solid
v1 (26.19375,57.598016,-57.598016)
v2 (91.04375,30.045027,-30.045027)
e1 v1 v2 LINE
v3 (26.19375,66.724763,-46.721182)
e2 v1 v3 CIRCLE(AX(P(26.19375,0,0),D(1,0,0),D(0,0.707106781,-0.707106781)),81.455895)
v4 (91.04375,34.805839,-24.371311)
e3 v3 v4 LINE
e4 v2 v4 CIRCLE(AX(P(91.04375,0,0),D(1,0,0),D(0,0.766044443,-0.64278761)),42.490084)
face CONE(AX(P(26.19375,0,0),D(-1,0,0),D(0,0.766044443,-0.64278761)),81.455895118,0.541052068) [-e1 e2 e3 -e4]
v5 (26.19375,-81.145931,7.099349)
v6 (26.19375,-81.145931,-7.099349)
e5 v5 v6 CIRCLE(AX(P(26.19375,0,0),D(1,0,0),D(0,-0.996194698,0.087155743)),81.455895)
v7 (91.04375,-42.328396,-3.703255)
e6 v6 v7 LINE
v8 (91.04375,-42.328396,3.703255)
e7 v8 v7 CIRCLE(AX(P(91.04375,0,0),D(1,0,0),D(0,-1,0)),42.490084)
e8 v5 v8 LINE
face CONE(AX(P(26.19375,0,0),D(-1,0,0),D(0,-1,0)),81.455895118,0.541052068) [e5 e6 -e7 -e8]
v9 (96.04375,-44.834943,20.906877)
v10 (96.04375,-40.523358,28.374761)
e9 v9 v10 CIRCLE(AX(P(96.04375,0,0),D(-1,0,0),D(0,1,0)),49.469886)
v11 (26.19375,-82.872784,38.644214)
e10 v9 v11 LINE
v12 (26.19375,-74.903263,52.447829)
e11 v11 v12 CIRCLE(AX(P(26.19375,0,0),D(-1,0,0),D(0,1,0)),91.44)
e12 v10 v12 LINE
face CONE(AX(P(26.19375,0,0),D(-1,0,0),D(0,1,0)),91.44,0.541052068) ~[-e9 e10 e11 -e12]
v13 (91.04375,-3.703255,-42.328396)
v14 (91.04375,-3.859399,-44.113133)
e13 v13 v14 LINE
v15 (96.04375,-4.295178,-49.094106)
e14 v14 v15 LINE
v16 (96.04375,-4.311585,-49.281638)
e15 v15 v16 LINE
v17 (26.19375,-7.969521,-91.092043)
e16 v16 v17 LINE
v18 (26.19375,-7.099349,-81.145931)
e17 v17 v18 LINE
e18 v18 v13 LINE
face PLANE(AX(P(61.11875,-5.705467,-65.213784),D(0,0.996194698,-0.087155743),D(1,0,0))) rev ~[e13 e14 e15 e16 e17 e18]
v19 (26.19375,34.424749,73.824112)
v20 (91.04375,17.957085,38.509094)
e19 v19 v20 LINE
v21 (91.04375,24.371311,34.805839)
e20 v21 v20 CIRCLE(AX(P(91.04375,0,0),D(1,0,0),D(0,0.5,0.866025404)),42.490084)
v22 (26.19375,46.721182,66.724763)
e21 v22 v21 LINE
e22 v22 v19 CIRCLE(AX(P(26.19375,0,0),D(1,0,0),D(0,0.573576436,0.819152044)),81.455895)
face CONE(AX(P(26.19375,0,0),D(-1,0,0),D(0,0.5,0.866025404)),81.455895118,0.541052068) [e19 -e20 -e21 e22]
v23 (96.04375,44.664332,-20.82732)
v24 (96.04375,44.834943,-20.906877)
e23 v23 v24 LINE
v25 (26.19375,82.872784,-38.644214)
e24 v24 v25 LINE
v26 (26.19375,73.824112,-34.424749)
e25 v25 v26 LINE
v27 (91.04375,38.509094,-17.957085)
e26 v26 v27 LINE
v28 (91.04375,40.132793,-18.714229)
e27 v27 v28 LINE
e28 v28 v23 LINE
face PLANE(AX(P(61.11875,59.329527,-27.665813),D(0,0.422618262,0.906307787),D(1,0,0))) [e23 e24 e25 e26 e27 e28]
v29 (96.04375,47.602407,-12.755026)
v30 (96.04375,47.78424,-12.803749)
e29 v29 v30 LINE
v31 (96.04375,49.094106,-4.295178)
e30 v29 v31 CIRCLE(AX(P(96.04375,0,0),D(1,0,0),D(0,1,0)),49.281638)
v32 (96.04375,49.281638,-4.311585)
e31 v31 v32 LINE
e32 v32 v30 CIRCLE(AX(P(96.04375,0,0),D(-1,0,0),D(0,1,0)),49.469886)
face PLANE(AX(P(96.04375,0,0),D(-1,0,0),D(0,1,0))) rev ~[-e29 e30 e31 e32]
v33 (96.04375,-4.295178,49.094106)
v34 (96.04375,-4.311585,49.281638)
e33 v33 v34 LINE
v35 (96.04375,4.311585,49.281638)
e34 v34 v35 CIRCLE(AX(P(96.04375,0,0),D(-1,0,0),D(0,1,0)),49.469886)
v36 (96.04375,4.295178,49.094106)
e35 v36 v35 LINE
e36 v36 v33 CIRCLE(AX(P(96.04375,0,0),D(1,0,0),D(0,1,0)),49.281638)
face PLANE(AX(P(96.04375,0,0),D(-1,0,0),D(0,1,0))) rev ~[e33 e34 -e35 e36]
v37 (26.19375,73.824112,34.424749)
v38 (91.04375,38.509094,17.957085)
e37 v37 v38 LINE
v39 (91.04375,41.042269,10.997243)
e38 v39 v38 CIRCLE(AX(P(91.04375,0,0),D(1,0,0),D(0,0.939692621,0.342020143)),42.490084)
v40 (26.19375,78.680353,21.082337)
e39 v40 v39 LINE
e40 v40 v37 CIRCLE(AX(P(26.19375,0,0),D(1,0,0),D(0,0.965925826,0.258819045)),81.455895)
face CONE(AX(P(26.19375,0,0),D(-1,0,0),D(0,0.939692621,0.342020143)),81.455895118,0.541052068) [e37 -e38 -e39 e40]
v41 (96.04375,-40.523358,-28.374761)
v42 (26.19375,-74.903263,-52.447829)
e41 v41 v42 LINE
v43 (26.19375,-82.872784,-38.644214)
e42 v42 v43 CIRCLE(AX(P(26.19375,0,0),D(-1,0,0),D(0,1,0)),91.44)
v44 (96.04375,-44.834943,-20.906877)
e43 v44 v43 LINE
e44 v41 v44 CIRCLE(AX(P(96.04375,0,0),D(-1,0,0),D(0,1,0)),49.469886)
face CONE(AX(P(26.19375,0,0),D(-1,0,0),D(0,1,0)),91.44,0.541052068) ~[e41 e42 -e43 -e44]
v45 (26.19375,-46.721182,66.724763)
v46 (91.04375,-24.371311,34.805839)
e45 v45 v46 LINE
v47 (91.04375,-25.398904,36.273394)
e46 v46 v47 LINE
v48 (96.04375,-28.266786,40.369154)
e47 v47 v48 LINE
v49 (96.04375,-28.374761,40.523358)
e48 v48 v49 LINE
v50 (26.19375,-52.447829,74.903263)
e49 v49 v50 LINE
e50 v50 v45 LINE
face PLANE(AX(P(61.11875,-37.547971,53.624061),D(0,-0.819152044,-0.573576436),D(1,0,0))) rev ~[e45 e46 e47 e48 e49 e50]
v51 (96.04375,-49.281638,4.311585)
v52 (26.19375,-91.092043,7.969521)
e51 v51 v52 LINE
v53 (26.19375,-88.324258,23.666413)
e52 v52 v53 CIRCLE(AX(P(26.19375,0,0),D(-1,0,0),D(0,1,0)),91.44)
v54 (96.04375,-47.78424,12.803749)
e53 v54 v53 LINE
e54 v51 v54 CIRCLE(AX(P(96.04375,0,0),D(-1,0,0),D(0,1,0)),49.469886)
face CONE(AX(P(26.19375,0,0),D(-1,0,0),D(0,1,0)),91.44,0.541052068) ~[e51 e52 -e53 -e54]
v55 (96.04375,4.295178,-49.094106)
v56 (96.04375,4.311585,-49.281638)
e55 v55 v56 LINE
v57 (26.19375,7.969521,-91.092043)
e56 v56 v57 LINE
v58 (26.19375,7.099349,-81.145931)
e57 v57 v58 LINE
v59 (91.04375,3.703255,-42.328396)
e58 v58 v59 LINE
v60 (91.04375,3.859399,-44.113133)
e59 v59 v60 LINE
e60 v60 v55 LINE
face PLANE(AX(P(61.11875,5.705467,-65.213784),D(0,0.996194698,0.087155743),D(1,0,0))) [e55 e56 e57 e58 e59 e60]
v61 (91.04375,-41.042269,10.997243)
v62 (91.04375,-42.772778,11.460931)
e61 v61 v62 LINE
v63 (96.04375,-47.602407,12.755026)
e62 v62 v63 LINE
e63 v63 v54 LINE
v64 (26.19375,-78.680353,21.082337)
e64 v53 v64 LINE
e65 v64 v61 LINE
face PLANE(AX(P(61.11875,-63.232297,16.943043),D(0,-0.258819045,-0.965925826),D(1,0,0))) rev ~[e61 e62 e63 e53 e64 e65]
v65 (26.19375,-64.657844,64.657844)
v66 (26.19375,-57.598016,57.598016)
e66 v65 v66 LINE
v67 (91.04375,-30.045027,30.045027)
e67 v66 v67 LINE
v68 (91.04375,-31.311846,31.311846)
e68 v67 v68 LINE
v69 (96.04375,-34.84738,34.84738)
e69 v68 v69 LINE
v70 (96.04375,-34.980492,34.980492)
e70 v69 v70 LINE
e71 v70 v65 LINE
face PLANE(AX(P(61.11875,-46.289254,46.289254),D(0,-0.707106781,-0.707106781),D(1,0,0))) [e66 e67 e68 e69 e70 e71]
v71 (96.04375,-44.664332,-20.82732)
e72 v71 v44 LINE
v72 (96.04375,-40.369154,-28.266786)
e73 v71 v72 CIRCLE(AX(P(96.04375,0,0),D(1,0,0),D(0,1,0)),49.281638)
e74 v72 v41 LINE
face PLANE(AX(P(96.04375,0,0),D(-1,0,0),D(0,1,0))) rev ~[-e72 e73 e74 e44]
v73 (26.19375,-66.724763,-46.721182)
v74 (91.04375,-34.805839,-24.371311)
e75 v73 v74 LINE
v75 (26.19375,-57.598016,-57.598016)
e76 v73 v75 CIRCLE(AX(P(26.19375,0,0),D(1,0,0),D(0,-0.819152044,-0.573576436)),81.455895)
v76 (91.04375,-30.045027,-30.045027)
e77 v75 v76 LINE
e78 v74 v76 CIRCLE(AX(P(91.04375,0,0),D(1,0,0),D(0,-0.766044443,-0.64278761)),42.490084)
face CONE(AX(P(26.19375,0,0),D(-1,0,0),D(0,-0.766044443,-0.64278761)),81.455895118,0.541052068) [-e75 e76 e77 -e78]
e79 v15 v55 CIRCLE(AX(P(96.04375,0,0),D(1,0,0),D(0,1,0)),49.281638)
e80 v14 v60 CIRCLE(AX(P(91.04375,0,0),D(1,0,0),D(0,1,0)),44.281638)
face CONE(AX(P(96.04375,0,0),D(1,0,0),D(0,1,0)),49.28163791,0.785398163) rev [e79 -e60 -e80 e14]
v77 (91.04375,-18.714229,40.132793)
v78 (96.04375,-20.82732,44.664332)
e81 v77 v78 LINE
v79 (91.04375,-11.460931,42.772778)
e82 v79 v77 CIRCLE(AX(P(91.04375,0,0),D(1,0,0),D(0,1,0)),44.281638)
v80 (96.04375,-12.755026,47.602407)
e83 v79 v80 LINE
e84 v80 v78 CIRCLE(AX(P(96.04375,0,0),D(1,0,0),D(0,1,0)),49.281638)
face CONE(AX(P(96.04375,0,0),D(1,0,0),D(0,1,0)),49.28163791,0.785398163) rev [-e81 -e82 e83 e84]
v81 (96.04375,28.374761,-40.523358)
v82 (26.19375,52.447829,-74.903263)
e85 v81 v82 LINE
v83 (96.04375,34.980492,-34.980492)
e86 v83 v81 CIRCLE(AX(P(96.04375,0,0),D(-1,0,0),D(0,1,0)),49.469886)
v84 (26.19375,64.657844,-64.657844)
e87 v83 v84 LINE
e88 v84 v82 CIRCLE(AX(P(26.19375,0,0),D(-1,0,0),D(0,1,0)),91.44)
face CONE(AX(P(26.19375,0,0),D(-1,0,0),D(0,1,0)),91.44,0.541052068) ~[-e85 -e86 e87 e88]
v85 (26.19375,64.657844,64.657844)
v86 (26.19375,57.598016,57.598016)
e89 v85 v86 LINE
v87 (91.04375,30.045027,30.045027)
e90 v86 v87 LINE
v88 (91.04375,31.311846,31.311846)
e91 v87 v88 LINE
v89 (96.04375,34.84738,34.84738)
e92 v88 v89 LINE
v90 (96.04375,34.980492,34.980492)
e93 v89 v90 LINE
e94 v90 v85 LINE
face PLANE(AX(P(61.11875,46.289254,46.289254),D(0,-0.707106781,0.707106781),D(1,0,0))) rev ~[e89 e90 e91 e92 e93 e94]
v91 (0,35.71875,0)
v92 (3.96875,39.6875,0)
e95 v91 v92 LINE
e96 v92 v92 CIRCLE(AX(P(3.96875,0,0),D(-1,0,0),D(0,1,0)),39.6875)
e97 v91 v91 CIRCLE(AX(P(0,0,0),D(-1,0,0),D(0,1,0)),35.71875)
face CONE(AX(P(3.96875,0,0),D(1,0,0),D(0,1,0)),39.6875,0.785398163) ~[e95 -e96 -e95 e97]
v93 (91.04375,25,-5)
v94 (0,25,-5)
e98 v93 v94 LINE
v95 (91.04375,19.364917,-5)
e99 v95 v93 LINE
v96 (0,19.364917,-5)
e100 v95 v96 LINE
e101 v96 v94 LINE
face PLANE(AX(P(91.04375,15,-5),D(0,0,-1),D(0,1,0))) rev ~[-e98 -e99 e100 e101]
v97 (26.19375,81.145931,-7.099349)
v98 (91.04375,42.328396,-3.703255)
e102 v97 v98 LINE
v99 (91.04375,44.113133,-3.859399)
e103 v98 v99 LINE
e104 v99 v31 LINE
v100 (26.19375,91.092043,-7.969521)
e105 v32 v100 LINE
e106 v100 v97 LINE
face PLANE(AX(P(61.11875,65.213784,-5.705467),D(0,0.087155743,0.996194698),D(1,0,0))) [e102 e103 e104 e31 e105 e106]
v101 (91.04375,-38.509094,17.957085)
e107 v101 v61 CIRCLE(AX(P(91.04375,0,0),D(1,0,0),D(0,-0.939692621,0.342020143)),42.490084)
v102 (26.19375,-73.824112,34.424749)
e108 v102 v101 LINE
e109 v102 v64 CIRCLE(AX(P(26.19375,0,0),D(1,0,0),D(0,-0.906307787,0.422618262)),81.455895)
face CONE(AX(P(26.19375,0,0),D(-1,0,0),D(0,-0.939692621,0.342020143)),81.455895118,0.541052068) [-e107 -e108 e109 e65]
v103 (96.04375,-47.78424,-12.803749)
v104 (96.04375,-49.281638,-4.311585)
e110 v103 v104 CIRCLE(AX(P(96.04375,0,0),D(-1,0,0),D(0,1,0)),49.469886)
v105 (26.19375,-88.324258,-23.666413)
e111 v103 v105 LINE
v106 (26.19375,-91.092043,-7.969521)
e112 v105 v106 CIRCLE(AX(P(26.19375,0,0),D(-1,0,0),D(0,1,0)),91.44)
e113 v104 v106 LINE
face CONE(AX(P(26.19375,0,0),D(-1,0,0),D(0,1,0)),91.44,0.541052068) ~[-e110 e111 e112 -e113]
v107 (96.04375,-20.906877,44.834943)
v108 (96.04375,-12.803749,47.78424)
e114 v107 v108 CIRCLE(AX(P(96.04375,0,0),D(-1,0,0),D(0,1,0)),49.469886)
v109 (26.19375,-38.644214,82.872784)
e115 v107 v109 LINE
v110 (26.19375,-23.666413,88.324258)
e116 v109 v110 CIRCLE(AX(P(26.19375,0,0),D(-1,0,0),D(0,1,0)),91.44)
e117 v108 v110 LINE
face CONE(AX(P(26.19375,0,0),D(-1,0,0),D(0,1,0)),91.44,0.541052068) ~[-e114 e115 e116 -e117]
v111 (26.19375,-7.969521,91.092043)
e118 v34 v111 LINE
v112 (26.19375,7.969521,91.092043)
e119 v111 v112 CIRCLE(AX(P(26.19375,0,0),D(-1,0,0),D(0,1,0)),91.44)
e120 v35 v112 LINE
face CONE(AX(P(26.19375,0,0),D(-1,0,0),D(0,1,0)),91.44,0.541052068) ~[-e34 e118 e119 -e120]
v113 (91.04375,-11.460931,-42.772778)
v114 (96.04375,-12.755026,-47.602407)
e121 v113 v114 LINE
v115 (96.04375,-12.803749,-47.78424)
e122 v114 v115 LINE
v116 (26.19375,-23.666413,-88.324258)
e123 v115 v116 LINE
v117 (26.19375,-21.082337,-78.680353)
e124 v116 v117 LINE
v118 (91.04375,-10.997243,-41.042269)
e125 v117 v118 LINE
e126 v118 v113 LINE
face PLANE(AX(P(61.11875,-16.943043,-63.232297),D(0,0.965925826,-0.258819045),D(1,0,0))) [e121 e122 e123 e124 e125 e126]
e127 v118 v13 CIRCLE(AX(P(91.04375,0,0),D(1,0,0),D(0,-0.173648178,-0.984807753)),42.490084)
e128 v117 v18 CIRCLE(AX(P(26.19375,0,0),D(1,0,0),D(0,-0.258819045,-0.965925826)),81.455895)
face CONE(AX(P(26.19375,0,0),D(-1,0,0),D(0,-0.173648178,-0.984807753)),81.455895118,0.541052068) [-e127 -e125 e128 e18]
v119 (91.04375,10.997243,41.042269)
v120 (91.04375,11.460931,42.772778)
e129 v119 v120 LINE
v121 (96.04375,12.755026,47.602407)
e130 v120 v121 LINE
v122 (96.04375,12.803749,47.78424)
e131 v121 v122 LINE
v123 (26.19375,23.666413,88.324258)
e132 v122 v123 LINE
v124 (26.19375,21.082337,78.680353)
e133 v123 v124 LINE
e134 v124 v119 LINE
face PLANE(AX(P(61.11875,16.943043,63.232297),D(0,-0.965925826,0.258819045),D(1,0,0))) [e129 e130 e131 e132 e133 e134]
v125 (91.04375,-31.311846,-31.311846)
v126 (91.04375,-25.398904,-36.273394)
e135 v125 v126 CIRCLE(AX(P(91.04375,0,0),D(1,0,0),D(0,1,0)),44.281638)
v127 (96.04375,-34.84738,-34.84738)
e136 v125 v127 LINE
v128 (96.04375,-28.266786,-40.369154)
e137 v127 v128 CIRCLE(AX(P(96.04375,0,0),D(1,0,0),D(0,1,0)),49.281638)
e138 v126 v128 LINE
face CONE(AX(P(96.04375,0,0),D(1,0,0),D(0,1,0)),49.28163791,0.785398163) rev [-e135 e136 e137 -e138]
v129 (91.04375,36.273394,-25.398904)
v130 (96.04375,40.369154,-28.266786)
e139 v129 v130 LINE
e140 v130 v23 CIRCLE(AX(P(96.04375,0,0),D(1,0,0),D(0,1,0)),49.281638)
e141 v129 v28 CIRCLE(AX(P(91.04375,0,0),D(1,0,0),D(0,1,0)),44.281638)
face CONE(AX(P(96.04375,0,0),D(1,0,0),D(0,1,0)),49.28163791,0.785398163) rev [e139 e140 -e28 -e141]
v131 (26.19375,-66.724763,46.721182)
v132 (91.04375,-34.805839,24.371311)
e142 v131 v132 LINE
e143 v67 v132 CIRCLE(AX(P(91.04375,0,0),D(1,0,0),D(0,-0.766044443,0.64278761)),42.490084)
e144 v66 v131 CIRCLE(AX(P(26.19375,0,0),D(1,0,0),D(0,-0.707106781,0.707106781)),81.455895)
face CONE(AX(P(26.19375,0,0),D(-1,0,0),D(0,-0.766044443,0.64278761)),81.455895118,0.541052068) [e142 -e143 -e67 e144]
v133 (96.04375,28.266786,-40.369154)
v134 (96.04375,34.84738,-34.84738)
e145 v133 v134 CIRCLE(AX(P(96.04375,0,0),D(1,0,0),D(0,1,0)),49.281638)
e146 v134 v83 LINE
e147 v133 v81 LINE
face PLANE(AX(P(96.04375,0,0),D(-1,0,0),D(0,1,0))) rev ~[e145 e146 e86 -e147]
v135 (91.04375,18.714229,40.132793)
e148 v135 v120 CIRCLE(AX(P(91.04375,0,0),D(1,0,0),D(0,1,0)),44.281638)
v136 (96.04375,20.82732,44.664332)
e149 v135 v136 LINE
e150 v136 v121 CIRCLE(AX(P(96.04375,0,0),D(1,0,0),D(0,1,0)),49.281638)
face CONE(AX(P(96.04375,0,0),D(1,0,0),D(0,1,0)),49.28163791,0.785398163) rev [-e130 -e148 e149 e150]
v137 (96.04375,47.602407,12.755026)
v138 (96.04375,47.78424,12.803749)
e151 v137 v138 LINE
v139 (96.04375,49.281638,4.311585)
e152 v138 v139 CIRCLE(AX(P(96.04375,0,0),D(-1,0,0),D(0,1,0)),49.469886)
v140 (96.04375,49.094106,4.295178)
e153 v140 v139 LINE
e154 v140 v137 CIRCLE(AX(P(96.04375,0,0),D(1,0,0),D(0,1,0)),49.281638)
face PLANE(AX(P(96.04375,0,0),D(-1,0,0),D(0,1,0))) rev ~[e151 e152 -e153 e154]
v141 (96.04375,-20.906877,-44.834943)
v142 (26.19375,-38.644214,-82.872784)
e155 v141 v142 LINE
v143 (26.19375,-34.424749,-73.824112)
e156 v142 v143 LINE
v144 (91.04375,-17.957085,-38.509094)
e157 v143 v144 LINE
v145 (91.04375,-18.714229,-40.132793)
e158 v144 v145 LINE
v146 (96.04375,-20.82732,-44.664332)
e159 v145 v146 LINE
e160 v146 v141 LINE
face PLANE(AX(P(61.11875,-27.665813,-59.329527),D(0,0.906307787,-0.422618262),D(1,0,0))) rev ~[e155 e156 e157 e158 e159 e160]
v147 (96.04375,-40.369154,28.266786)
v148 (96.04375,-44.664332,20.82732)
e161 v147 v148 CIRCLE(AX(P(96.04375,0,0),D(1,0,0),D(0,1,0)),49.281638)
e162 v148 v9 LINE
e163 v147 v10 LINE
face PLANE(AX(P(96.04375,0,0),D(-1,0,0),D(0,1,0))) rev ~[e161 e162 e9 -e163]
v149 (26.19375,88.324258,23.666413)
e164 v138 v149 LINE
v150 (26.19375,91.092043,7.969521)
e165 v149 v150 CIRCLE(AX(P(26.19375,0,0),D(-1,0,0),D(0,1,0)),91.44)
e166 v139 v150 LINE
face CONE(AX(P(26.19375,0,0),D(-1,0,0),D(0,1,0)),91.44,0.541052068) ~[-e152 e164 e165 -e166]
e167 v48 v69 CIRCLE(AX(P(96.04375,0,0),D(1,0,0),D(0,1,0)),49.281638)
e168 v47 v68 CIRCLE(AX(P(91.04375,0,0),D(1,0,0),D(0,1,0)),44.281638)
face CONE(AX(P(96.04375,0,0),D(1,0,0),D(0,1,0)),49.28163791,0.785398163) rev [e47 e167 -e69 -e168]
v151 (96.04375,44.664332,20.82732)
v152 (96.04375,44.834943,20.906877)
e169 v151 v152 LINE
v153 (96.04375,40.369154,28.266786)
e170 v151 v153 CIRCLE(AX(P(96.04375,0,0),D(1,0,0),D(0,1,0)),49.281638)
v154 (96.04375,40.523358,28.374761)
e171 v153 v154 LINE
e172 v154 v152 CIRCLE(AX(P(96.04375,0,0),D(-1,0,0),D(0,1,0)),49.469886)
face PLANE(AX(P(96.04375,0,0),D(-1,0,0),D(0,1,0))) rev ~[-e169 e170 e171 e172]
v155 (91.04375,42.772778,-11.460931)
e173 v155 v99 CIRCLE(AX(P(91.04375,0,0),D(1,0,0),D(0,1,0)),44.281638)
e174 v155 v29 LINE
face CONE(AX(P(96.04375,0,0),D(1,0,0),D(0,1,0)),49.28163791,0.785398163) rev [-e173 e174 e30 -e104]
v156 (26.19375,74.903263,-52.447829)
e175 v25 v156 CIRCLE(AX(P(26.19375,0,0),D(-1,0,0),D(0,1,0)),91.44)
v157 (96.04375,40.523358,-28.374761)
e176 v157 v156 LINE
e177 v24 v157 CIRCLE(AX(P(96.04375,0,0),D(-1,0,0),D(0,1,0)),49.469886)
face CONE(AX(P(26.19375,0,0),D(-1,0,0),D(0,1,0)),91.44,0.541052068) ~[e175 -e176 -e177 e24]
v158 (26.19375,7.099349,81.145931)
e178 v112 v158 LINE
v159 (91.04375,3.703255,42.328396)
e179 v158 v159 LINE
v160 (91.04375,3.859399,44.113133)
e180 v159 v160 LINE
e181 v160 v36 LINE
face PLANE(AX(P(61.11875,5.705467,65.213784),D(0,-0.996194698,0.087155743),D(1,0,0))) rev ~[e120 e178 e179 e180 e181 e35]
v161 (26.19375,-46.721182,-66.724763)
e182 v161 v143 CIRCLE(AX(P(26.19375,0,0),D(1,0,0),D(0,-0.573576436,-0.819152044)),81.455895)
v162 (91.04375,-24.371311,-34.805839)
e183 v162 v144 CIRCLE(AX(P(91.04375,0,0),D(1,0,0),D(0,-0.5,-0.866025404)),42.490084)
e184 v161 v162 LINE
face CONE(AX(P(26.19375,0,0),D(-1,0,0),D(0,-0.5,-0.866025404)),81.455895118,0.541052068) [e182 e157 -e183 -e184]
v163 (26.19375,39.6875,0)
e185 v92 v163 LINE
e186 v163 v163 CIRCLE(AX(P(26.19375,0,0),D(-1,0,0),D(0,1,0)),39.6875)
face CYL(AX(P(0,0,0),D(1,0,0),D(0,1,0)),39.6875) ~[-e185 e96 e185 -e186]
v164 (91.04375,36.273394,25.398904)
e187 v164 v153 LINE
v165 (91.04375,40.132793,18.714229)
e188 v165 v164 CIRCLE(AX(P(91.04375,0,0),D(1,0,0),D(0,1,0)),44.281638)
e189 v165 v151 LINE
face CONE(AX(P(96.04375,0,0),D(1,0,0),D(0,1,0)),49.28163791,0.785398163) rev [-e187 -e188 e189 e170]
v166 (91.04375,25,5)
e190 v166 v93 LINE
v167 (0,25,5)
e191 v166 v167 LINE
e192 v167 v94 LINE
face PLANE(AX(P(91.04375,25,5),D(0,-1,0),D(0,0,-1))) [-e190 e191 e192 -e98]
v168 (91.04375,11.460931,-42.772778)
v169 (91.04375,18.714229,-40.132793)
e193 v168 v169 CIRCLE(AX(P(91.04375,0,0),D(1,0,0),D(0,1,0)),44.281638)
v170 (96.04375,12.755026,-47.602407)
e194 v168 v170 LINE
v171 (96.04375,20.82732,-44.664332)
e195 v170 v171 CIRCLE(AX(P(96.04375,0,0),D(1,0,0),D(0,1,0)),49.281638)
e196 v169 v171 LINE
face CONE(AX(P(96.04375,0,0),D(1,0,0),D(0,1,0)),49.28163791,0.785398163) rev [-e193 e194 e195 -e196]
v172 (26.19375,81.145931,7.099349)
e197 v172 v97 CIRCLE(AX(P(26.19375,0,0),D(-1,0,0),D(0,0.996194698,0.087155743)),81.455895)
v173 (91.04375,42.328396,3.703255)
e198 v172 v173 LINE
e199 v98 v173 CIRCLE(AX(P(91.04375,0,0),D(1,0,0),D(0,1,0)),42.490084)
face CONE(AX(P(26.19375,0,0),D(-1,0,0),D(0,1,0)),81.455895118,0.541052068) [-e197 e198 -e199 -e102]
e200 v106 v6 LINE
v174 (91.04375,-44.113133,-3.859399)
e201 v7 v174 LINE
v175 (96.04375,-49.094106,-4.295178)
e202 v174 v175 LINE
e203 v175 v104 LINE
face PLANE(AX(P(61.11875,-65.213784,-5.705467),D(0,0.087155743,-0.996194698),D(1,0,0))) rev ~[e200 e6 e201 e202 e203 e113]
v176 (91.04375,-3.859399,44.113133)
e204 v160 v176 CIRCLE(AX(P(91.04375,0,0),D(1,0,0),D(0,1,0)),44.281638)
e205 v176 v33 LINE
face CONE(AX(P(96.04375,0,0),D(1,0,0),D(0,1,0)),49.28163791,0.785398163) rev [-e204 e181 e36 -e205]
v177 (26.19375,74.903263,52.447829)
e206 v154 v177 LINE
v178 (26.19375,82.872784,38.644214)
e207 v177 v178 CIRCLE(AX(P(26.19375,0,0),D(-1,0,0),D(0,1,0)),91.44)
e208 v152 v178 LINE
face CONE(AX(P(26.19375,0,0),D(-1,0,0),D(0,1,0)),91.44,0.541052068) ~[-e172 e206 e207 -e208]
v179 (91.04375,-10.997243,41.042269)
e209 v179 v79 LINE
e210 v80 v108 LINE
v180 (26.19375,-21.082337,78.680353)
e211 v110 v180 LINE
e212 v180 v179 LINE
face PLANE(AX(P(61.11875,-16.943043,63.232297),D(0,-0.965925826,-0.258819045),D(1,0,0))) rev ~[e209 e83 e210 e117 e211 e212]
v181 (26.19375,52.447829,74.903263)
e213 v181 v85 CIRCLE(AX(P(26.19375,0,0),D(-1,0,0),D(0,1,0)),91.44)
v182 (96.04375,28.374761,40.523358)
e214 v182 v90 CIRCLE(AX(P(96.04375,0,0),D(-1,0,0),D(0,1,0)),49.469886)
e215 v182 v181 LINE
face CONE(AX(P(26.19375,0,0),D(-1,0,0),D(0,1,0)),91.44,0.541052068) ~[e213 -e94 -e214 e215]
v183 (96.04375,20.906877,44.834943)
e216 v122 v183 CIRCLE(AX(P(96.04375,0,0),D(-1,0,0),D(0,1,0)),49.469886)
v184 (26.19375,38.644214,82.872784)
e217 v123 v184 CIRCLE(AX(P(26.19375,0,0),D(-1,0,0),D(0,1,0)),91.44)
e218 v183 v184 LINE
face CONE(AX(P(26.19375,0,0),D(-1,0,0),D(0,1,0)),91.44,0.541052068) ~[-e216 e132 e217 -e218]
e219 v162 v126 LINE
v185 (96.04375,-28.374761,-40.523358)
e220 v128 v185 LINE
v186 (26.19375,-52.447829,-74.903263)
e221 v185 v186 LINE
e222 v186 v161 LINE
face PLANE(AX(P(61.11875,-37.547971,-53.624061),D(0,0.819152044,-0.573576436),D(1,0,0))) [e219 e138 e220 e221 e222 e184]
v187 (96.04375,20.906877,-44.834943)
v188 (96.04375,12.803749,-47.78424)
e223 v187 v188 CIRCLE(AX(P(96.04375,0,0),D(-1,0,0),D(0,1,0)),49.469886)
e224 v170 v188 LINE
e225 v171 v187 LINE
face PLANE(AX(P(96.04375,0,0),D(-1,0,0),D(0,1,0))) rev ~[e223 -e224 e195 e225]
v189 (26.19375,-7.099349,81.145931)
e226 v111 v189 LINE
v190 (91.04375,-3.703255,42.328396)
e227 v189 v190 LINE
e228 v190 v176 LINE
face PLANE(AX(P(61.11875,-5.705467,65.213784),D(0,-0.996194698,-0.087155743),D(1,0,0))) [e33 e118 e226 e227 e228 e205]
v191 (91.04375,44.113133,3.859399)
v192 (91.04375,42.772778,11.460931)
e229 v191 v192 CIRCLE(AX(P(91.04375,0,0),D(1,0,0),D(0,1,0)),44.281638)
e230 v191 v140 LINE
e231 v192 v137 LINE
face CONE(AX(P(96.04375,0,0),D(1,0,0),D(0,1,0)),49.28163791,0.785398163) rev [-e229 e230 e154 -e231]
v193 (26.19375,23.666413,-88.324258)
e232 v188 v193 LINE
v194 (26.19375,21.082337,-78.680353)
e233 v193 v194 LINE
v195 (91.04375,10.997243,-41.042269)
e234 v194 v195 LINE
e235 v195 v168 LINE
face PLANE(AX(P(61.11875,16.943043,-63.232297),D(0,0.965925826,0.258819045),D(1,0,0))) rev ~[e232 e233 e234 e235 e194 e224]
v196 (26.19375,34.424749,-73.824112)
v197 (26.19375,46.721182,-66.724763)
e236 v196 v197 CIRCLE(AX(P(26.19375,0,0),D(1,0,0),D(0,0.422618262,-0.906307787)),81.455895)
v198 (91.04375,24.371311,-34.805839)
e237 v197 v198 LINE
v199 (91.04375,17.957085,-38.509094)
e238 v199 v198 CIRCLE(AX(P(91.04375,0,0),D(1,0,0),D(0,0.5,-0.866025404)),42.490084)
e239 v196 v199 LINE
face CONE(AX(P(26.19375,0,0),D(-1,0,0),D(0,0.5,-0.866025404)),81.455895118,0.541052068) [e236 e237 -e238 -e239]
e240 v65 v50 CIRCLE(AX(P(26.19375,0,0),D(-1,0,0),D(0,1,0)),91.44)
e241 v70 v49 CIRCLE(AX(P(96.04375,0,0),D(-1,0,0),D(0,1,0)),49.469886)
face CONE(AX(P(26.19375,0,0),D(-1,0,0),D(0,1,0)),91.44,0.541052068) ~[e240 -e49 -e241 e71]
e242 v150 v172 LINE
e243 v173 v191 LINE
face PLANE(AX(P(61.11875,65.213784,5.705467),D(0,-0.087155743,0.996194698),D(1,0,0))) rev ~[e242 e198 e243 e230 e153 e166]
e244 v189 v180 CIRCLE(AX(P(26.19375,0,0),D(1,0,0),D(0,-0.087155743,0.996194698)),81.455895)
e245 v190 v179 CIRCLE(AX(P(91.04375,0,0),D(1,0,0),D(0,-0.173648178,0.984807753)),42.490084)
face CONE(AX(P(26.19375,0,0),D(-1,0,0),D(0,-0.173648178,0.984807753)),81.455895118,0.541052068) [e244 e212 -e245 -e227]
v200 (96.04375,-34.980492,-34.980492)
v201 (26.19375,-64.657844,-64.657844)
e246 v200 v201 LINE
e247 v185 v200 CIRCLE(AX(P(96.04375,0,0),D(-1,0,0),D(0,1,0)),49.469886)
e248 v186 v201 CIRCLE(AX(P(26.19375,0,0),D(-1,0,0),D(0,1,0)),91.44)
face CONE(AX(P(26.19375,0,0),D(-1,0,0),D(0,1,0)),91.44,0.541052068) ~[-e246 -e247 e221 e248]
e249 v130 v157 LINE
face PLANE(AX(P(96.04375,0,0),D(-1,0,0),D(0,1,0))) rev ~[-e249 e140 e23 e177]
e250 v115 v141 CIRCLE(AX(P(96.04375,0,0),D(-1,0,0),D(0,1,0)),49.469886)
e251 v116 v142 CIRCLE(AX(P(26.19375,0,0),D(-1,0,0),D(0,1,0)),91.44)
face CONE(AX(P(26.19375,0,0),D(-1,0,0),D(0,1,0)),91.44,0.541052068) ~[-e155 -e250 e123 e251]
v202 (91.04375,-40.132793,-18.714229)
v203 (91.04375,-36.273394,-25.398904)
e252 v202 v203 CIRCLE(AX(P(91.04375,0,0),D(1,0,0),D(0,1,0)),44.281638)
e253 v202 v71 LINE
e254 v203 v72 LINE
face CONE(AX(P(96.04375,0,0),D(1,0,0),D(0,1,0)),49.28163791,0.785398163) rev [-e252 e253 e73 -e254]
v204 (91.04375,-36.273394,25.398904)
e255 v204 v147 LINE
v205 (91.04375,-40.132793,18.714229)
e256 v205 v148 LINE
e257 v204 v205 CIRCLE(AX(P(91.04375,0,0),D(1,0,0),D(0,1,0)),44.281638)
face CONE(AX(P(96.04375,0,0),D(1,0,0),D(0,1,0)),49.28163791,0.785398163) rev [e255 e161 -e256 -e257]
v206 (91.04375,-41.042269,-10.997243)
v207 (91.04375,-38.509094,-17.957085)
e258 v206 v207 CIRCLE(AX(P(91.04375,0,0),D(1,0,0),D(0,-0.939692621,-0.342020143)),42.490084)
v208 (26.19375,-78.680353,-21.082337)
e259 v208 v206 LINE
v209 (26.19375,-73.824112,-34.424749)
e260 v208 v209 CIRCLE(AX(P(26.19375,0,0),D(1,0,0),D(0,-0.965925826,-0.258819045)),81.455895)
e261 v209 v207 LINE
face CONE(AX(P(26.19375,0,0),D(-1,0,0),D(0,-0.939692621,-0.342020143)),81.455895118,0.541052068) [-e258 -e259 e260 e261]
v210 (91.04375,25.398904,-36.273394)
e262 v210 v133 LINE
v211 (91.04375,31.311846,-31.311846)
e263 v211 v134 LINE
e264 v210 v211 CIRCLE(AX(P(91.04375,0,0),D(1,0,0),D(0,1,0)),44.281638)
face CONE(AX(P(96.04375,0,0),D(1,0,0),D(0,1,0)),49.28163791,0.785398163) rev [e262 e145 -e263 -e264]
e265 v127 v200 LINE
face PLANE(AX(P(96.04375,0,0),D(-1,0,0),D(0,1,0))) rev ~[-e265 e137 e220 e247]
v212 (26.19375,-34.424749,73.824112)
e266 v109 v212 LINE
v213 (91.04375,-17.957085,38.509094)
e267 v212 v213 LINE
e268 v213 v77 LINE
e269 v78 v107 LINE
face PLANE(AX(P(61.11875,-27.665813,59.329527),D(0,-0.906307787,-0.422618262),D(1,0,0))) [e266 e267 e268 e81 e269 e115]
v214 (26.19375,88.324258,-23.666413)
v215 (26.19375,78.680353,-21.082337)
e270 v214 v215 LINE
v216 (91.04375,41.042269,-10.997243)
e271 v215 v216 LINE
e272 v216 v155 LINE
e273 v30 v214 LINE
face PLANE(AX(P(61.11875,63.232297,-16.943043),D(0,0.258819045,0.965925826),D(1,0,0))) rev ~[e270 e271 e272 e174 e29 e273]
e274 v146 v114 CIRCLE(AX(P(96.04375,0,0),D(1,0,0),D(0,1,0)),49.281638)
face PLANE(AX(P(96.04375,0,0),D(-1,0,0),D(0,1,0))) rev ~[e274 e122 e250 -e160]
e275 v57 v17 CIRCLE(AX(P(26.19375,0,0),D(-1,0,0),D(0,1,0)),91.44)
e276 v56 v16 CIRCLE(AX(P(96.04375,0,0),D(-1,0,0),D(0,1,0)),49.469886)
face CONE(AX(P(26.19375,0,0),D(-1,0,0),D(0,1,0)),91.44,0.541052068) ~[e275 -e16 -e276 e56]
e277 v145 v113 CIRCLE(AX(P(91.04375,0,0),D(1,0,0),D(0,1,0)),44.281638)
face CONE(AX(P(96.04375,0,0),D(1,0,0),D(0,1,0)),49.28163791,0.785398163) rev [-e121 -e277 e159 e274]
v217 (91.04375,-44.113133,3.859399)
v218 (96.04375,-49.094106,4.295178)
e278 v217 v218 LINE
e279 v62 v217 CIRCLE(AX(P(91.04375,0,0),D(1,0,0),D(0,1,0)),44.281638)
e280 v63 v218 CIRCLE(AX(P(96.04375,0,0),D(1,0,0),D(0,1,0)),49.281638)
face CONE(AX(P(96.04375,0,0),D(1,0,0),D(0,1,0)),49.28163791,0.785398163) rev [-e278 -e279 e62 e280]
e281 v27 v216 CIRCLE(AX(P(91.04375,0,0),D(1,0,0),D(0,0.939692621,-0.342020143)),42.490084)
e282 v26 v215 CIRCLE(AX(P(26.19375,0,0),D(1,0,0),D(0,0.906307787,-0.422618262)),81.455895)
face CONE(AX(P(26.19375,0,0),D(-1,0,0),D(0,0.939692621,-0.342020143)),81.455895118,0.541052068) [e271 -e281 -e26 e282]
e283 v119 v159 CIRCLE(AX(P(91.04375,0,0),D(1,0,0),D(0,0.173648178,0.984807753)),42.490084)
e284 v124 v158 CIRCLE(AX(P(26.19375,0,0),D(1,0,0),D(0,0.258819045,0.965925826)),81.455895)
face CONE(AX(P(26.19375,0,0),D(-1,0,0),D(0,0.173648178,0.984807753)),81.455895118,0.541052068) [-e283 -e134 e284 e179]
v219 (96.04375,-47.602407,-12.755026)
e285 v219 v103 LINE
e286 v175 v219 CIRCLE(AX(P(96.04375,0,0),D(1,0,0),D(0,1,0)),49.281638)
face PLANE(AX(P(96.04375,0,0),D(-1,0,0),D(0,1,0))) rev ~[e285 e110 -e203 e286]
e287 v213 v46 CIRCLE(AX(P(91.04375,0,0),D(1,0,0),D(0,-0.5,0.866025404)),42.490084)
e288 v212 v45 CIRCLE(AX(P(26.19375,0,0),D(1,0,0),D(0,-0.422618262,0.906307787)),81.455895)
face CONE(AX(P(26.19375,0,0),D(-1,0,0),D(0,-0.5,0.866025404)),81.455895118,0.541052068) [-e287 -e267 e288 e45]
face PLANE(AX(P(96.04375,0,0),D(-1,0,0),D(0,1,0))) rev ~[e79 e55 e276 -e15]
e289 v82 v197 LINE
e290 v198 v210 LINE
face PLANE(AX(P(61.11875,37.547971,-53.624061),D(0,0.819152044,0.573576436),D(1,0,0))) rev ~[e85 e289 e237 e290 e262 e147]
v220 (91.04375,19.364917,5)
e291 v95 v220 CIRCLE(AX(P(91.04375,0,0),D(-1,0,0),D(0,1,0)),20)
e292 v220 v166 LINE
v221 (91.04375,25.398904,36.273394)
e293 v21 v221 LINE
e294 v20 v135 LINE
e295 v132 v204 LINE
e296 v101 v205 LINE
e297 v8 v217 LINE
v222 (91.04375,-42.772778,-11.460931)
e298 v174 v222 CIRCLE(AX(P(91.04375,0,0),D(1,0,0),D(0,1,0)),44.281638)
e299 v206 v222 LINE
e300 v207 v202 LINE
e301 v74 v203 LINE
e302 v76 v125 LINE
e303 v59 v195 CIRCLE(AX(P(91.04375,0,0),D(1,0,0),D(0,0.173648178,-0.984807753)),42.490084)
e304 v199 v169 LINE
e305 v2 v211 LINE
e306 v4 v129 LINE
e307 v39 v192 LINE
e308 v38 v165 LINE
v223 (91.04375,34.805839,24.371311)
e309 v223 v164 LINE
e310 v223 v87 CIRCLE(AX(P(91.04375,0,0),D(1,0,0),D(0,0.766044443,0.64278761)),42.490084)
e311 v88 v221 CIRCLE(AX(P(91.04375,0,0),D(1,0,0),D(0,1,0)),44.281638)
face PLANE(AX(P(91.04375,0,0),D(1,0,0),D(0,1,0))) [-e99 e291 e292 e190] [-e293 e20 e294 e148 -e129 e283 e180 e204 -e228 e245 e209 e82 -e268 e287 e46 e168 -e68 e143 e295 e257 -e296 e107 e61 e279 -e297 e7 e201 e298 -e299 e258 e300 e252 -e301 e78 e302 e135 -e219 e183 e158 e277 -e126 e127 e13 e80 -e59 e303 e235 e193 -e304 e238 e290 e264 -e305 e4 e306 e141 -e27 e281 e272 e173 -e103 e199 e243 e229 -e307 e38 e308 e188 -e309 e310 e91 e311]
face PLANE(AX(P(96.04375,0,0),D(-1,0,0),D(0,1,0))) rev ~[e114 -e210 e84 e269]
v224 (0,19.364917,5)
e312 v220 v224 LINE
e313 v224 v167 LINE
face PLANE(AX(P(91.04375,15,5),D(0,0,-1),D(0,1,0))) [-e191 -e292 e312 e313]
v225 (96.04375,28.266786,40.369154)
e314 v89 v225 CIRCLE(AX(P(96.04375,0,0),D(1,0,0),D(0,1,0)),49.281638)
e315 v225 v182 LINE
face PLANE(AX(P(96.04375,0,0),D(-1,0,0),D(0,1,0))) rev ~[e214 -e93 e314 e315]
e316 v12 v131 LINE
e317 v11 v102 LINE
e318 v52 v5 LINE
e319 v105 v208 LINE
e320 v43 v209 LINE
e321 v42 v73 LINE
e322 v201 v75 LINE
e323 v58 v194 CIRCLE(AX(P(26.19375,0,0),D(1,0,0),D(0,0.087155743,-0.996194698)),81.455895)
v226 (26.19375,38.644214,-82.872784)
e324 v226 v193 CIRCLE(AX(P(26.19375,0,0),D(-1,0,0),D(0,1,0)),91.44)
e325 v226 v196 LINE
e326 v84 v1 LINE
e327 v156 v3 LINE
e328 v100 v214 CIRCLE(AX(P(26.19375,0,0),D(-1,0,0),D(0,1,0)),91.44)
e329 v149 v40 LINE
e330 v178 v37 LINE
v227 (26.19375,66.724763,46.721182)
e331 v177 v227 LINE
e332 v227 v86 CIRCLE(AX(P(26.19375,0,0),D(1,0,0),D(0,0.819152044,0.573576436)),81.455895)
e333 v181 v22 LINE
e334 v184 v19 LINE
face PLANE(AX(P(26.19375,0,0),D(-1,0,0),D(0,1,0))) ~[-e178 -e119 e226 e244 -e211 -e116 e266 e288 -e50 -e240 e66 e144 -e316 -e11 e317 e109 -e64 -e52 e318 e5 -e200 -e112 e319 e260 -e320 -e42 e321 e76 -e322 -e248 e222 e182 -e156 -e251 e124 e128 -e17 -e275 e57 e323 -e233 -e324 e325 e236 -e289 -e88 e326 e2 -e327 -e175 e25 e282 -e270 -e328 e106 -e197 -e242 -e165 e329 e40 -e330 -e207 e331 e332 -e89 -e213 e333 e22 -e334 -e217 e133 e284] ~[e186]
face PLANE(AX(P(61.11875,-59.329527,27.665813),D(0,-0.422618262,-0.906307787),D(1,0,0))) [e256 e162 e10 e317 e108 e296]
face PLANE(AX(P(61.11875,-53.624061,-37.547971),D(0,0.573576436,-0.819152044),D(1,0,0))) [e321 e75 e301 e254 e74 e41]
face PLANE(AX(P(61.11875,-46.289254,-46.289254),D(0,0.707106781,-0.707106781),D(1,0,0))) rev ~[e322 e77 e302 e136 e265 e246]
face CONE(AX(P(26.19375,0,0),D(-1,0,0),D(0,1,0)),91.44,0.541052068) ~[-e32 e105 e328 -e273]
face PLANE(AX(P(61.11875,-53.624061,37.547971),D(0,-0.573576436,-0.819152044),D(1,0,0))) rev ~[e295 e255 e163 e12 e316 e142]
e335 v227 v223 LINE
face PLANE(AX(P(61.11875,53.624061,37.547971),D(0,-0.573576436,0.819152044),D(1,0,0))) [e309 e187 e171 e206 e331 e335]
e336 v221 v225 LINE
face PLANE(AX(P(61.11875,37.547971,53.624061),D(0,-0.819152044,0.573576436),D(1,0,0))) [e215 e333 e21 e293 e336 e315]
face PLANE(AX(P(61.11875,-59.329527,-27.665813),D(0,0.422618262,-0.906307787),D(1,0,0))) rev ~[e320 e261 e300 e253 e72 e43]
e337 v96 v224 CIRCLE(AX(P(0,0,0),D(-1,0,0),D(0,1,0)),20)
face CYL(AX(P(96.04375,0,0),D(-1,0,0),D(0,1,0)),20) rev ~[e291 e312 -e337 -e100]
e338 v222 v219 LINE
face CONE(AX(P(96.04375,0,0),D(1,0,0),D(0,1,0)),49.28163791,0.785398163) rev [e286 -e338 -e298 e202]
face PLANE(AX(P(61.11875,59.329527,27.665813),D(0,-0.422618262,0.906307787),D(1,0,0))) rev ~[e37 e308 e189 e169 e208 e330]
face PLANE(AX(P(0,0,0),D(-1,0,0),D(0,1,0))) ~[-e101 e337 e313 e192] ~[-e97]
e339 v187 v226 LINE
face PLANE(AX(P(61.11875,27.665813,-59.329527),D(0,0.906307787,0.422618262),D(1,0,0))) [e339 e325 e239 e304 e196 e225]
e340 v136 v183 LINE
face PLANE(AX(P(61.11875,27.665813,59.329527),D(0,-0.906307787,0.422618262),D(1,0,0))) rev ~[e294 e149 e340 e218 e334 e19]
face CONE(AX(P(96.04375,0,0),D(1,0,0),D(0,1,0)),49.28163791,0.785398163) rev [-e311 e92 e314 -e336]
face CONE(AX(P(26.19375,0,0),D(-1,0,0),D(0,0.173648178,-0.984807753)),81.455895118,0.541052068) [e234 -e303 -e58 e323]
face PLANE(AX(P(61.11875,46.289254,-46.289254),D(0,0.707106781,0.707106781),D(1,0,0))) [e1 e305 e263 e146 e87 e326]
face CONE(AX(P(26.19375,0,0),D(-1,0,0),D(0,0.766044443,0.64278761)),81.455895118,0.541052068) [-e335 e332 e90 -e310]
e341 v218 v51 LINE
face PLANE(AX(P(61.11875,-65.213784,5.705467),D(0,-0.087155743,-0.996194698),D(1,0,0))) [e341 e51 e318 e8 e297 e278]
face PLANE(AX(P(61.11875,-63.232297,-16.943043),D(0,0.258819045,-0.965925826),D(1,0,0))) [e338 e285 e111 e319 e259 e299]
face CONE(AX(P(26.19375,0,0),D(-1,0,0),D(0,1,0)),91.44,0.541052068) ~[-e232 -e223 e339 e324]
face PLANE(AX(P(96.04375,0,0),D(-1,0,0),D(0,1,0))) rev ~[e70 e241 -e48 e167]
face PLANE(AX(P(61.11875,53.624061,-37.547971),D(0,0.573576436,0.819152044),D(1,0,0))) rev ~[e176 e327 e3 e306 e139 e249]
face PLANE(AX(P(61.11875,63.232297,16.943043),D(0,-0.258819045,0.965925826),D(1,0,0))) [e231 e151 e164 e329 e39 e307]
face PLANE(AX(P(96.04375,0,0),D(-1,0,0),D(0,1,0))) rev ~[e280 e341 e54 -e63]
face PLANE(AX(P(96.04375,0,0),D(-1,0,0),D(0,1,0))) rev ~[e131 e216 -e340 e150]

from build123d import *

# Parameters (mm, degrees)
CHANFRO1_SIZE         = 3.96875
CORTE_REVOLU_O1_ANGLE = 10
PADR_OCIRCULAR1_COUNT = 18
ESBO_O8_W             = 10
ESBO_O8_H             = 10
CORTE_EXTRUS_O1_DEPTH = 92.04375


with BuildPart() as part:
    # Esboço1 → Revolução1 (revolve)
    with BuildSketch(Plane.XY):
        Polygon((0, 20), (0, 39.6875), (26.19375, 39.6875), (26.19375, 91.44), (96.04375, 49.469885761), (96.04375, 20), align=None)
    revolve(axis=Axis((206.361590972, 0, 0), (-1, 0, 0)))

    # Chanfro1
    chanfro1_edges = [part.edges().sort_by_distance(p)[0] for p in [
        (0, -39.6875, 0),
    ]]
    chamfer(chanfro1_edges, length=CHANFRO1_SIZE)

    # Esboço3 → Corte-Revolução1 (revolve, symmetric, cut)
    with BuildSketch(Plane.XY) as corte_revolu_o1_sk:
        Polygon((96.04375, 49.469885761), (26.19375, 91.44), (26.19375, 81.455895118), (96.04375, 39.485780879), align=None)
    corte_revolu_o1 = revolve(axis=Axis((96.04375, 0, 0), (1, 0, 0)), revolution_arc=CORTE_REVOLU_O1_ANGLE / 2, mode=Mode.SUBTRACT)
    corte_revolu_o1 = corte_revolu_o1 + revolve(corte_revolu_o1_sk.sketch, axis=Axis((96.04375, 0, 0), (-1, 0, 0)), revolution_arc=CORTE_REVOLU_O1_ANGLE / 2, mode=Mode.SUBTRACT)

    # PadrãoCircular1: Corte-Revolução1 ×18 about axis
    padr_ocircular1_axis = Axis((0, 0, 0), (1, 0, 0))
    for i in range(1, PADR_OCIRCULAR1_COUNT):
        add(corte_revolu_o1.rotate(padr_ocircular1_axis, i * 360 / PADR_OCIRCULAR1_COUNT), mode=Mode.SUBTRACT)

    # Esboço7 → Corte-Revolução2 (revolve, cut)
    with BuildSketch(Plane(origin=(0, 0, 0), x_dir=(1, 0, 0), z_dir=(0, 1, 0)), mode=Mode.PRIVATE) as corte_revolu_o2_sk:
        Polygon((96.04375, 0), (96.04375, 49.28163791), (91.04375, 44.28163791), (91.04375, 0), align=None)
    revolve(corte_revolu_o2_sk.sketch.rotate(Axis((91.04375, 0, 0), (1, 0, 0)), 90), axis=Axis((91.04375, 0, 0), (1, 0, 0)), mode=Mode.SUBTRACT)  # turned: the seam where the file's is

    # Esboço8 → Corte-extrusão1 (cut, through all)
    with BuildSketch(Plane(origin=(91.04375, 0, 0), x_dir=(0, 0, -1), z_dir=(1, 0, 0))):
        with Locations((0, 20)):
            Rectangle(ESBO_O8_W, ESBO_O8_H)
    extrude(amount=-CORTE_EXTRUS_O1_DEPTH, mode=Mode.SUBTRACT)


solid = part.part
